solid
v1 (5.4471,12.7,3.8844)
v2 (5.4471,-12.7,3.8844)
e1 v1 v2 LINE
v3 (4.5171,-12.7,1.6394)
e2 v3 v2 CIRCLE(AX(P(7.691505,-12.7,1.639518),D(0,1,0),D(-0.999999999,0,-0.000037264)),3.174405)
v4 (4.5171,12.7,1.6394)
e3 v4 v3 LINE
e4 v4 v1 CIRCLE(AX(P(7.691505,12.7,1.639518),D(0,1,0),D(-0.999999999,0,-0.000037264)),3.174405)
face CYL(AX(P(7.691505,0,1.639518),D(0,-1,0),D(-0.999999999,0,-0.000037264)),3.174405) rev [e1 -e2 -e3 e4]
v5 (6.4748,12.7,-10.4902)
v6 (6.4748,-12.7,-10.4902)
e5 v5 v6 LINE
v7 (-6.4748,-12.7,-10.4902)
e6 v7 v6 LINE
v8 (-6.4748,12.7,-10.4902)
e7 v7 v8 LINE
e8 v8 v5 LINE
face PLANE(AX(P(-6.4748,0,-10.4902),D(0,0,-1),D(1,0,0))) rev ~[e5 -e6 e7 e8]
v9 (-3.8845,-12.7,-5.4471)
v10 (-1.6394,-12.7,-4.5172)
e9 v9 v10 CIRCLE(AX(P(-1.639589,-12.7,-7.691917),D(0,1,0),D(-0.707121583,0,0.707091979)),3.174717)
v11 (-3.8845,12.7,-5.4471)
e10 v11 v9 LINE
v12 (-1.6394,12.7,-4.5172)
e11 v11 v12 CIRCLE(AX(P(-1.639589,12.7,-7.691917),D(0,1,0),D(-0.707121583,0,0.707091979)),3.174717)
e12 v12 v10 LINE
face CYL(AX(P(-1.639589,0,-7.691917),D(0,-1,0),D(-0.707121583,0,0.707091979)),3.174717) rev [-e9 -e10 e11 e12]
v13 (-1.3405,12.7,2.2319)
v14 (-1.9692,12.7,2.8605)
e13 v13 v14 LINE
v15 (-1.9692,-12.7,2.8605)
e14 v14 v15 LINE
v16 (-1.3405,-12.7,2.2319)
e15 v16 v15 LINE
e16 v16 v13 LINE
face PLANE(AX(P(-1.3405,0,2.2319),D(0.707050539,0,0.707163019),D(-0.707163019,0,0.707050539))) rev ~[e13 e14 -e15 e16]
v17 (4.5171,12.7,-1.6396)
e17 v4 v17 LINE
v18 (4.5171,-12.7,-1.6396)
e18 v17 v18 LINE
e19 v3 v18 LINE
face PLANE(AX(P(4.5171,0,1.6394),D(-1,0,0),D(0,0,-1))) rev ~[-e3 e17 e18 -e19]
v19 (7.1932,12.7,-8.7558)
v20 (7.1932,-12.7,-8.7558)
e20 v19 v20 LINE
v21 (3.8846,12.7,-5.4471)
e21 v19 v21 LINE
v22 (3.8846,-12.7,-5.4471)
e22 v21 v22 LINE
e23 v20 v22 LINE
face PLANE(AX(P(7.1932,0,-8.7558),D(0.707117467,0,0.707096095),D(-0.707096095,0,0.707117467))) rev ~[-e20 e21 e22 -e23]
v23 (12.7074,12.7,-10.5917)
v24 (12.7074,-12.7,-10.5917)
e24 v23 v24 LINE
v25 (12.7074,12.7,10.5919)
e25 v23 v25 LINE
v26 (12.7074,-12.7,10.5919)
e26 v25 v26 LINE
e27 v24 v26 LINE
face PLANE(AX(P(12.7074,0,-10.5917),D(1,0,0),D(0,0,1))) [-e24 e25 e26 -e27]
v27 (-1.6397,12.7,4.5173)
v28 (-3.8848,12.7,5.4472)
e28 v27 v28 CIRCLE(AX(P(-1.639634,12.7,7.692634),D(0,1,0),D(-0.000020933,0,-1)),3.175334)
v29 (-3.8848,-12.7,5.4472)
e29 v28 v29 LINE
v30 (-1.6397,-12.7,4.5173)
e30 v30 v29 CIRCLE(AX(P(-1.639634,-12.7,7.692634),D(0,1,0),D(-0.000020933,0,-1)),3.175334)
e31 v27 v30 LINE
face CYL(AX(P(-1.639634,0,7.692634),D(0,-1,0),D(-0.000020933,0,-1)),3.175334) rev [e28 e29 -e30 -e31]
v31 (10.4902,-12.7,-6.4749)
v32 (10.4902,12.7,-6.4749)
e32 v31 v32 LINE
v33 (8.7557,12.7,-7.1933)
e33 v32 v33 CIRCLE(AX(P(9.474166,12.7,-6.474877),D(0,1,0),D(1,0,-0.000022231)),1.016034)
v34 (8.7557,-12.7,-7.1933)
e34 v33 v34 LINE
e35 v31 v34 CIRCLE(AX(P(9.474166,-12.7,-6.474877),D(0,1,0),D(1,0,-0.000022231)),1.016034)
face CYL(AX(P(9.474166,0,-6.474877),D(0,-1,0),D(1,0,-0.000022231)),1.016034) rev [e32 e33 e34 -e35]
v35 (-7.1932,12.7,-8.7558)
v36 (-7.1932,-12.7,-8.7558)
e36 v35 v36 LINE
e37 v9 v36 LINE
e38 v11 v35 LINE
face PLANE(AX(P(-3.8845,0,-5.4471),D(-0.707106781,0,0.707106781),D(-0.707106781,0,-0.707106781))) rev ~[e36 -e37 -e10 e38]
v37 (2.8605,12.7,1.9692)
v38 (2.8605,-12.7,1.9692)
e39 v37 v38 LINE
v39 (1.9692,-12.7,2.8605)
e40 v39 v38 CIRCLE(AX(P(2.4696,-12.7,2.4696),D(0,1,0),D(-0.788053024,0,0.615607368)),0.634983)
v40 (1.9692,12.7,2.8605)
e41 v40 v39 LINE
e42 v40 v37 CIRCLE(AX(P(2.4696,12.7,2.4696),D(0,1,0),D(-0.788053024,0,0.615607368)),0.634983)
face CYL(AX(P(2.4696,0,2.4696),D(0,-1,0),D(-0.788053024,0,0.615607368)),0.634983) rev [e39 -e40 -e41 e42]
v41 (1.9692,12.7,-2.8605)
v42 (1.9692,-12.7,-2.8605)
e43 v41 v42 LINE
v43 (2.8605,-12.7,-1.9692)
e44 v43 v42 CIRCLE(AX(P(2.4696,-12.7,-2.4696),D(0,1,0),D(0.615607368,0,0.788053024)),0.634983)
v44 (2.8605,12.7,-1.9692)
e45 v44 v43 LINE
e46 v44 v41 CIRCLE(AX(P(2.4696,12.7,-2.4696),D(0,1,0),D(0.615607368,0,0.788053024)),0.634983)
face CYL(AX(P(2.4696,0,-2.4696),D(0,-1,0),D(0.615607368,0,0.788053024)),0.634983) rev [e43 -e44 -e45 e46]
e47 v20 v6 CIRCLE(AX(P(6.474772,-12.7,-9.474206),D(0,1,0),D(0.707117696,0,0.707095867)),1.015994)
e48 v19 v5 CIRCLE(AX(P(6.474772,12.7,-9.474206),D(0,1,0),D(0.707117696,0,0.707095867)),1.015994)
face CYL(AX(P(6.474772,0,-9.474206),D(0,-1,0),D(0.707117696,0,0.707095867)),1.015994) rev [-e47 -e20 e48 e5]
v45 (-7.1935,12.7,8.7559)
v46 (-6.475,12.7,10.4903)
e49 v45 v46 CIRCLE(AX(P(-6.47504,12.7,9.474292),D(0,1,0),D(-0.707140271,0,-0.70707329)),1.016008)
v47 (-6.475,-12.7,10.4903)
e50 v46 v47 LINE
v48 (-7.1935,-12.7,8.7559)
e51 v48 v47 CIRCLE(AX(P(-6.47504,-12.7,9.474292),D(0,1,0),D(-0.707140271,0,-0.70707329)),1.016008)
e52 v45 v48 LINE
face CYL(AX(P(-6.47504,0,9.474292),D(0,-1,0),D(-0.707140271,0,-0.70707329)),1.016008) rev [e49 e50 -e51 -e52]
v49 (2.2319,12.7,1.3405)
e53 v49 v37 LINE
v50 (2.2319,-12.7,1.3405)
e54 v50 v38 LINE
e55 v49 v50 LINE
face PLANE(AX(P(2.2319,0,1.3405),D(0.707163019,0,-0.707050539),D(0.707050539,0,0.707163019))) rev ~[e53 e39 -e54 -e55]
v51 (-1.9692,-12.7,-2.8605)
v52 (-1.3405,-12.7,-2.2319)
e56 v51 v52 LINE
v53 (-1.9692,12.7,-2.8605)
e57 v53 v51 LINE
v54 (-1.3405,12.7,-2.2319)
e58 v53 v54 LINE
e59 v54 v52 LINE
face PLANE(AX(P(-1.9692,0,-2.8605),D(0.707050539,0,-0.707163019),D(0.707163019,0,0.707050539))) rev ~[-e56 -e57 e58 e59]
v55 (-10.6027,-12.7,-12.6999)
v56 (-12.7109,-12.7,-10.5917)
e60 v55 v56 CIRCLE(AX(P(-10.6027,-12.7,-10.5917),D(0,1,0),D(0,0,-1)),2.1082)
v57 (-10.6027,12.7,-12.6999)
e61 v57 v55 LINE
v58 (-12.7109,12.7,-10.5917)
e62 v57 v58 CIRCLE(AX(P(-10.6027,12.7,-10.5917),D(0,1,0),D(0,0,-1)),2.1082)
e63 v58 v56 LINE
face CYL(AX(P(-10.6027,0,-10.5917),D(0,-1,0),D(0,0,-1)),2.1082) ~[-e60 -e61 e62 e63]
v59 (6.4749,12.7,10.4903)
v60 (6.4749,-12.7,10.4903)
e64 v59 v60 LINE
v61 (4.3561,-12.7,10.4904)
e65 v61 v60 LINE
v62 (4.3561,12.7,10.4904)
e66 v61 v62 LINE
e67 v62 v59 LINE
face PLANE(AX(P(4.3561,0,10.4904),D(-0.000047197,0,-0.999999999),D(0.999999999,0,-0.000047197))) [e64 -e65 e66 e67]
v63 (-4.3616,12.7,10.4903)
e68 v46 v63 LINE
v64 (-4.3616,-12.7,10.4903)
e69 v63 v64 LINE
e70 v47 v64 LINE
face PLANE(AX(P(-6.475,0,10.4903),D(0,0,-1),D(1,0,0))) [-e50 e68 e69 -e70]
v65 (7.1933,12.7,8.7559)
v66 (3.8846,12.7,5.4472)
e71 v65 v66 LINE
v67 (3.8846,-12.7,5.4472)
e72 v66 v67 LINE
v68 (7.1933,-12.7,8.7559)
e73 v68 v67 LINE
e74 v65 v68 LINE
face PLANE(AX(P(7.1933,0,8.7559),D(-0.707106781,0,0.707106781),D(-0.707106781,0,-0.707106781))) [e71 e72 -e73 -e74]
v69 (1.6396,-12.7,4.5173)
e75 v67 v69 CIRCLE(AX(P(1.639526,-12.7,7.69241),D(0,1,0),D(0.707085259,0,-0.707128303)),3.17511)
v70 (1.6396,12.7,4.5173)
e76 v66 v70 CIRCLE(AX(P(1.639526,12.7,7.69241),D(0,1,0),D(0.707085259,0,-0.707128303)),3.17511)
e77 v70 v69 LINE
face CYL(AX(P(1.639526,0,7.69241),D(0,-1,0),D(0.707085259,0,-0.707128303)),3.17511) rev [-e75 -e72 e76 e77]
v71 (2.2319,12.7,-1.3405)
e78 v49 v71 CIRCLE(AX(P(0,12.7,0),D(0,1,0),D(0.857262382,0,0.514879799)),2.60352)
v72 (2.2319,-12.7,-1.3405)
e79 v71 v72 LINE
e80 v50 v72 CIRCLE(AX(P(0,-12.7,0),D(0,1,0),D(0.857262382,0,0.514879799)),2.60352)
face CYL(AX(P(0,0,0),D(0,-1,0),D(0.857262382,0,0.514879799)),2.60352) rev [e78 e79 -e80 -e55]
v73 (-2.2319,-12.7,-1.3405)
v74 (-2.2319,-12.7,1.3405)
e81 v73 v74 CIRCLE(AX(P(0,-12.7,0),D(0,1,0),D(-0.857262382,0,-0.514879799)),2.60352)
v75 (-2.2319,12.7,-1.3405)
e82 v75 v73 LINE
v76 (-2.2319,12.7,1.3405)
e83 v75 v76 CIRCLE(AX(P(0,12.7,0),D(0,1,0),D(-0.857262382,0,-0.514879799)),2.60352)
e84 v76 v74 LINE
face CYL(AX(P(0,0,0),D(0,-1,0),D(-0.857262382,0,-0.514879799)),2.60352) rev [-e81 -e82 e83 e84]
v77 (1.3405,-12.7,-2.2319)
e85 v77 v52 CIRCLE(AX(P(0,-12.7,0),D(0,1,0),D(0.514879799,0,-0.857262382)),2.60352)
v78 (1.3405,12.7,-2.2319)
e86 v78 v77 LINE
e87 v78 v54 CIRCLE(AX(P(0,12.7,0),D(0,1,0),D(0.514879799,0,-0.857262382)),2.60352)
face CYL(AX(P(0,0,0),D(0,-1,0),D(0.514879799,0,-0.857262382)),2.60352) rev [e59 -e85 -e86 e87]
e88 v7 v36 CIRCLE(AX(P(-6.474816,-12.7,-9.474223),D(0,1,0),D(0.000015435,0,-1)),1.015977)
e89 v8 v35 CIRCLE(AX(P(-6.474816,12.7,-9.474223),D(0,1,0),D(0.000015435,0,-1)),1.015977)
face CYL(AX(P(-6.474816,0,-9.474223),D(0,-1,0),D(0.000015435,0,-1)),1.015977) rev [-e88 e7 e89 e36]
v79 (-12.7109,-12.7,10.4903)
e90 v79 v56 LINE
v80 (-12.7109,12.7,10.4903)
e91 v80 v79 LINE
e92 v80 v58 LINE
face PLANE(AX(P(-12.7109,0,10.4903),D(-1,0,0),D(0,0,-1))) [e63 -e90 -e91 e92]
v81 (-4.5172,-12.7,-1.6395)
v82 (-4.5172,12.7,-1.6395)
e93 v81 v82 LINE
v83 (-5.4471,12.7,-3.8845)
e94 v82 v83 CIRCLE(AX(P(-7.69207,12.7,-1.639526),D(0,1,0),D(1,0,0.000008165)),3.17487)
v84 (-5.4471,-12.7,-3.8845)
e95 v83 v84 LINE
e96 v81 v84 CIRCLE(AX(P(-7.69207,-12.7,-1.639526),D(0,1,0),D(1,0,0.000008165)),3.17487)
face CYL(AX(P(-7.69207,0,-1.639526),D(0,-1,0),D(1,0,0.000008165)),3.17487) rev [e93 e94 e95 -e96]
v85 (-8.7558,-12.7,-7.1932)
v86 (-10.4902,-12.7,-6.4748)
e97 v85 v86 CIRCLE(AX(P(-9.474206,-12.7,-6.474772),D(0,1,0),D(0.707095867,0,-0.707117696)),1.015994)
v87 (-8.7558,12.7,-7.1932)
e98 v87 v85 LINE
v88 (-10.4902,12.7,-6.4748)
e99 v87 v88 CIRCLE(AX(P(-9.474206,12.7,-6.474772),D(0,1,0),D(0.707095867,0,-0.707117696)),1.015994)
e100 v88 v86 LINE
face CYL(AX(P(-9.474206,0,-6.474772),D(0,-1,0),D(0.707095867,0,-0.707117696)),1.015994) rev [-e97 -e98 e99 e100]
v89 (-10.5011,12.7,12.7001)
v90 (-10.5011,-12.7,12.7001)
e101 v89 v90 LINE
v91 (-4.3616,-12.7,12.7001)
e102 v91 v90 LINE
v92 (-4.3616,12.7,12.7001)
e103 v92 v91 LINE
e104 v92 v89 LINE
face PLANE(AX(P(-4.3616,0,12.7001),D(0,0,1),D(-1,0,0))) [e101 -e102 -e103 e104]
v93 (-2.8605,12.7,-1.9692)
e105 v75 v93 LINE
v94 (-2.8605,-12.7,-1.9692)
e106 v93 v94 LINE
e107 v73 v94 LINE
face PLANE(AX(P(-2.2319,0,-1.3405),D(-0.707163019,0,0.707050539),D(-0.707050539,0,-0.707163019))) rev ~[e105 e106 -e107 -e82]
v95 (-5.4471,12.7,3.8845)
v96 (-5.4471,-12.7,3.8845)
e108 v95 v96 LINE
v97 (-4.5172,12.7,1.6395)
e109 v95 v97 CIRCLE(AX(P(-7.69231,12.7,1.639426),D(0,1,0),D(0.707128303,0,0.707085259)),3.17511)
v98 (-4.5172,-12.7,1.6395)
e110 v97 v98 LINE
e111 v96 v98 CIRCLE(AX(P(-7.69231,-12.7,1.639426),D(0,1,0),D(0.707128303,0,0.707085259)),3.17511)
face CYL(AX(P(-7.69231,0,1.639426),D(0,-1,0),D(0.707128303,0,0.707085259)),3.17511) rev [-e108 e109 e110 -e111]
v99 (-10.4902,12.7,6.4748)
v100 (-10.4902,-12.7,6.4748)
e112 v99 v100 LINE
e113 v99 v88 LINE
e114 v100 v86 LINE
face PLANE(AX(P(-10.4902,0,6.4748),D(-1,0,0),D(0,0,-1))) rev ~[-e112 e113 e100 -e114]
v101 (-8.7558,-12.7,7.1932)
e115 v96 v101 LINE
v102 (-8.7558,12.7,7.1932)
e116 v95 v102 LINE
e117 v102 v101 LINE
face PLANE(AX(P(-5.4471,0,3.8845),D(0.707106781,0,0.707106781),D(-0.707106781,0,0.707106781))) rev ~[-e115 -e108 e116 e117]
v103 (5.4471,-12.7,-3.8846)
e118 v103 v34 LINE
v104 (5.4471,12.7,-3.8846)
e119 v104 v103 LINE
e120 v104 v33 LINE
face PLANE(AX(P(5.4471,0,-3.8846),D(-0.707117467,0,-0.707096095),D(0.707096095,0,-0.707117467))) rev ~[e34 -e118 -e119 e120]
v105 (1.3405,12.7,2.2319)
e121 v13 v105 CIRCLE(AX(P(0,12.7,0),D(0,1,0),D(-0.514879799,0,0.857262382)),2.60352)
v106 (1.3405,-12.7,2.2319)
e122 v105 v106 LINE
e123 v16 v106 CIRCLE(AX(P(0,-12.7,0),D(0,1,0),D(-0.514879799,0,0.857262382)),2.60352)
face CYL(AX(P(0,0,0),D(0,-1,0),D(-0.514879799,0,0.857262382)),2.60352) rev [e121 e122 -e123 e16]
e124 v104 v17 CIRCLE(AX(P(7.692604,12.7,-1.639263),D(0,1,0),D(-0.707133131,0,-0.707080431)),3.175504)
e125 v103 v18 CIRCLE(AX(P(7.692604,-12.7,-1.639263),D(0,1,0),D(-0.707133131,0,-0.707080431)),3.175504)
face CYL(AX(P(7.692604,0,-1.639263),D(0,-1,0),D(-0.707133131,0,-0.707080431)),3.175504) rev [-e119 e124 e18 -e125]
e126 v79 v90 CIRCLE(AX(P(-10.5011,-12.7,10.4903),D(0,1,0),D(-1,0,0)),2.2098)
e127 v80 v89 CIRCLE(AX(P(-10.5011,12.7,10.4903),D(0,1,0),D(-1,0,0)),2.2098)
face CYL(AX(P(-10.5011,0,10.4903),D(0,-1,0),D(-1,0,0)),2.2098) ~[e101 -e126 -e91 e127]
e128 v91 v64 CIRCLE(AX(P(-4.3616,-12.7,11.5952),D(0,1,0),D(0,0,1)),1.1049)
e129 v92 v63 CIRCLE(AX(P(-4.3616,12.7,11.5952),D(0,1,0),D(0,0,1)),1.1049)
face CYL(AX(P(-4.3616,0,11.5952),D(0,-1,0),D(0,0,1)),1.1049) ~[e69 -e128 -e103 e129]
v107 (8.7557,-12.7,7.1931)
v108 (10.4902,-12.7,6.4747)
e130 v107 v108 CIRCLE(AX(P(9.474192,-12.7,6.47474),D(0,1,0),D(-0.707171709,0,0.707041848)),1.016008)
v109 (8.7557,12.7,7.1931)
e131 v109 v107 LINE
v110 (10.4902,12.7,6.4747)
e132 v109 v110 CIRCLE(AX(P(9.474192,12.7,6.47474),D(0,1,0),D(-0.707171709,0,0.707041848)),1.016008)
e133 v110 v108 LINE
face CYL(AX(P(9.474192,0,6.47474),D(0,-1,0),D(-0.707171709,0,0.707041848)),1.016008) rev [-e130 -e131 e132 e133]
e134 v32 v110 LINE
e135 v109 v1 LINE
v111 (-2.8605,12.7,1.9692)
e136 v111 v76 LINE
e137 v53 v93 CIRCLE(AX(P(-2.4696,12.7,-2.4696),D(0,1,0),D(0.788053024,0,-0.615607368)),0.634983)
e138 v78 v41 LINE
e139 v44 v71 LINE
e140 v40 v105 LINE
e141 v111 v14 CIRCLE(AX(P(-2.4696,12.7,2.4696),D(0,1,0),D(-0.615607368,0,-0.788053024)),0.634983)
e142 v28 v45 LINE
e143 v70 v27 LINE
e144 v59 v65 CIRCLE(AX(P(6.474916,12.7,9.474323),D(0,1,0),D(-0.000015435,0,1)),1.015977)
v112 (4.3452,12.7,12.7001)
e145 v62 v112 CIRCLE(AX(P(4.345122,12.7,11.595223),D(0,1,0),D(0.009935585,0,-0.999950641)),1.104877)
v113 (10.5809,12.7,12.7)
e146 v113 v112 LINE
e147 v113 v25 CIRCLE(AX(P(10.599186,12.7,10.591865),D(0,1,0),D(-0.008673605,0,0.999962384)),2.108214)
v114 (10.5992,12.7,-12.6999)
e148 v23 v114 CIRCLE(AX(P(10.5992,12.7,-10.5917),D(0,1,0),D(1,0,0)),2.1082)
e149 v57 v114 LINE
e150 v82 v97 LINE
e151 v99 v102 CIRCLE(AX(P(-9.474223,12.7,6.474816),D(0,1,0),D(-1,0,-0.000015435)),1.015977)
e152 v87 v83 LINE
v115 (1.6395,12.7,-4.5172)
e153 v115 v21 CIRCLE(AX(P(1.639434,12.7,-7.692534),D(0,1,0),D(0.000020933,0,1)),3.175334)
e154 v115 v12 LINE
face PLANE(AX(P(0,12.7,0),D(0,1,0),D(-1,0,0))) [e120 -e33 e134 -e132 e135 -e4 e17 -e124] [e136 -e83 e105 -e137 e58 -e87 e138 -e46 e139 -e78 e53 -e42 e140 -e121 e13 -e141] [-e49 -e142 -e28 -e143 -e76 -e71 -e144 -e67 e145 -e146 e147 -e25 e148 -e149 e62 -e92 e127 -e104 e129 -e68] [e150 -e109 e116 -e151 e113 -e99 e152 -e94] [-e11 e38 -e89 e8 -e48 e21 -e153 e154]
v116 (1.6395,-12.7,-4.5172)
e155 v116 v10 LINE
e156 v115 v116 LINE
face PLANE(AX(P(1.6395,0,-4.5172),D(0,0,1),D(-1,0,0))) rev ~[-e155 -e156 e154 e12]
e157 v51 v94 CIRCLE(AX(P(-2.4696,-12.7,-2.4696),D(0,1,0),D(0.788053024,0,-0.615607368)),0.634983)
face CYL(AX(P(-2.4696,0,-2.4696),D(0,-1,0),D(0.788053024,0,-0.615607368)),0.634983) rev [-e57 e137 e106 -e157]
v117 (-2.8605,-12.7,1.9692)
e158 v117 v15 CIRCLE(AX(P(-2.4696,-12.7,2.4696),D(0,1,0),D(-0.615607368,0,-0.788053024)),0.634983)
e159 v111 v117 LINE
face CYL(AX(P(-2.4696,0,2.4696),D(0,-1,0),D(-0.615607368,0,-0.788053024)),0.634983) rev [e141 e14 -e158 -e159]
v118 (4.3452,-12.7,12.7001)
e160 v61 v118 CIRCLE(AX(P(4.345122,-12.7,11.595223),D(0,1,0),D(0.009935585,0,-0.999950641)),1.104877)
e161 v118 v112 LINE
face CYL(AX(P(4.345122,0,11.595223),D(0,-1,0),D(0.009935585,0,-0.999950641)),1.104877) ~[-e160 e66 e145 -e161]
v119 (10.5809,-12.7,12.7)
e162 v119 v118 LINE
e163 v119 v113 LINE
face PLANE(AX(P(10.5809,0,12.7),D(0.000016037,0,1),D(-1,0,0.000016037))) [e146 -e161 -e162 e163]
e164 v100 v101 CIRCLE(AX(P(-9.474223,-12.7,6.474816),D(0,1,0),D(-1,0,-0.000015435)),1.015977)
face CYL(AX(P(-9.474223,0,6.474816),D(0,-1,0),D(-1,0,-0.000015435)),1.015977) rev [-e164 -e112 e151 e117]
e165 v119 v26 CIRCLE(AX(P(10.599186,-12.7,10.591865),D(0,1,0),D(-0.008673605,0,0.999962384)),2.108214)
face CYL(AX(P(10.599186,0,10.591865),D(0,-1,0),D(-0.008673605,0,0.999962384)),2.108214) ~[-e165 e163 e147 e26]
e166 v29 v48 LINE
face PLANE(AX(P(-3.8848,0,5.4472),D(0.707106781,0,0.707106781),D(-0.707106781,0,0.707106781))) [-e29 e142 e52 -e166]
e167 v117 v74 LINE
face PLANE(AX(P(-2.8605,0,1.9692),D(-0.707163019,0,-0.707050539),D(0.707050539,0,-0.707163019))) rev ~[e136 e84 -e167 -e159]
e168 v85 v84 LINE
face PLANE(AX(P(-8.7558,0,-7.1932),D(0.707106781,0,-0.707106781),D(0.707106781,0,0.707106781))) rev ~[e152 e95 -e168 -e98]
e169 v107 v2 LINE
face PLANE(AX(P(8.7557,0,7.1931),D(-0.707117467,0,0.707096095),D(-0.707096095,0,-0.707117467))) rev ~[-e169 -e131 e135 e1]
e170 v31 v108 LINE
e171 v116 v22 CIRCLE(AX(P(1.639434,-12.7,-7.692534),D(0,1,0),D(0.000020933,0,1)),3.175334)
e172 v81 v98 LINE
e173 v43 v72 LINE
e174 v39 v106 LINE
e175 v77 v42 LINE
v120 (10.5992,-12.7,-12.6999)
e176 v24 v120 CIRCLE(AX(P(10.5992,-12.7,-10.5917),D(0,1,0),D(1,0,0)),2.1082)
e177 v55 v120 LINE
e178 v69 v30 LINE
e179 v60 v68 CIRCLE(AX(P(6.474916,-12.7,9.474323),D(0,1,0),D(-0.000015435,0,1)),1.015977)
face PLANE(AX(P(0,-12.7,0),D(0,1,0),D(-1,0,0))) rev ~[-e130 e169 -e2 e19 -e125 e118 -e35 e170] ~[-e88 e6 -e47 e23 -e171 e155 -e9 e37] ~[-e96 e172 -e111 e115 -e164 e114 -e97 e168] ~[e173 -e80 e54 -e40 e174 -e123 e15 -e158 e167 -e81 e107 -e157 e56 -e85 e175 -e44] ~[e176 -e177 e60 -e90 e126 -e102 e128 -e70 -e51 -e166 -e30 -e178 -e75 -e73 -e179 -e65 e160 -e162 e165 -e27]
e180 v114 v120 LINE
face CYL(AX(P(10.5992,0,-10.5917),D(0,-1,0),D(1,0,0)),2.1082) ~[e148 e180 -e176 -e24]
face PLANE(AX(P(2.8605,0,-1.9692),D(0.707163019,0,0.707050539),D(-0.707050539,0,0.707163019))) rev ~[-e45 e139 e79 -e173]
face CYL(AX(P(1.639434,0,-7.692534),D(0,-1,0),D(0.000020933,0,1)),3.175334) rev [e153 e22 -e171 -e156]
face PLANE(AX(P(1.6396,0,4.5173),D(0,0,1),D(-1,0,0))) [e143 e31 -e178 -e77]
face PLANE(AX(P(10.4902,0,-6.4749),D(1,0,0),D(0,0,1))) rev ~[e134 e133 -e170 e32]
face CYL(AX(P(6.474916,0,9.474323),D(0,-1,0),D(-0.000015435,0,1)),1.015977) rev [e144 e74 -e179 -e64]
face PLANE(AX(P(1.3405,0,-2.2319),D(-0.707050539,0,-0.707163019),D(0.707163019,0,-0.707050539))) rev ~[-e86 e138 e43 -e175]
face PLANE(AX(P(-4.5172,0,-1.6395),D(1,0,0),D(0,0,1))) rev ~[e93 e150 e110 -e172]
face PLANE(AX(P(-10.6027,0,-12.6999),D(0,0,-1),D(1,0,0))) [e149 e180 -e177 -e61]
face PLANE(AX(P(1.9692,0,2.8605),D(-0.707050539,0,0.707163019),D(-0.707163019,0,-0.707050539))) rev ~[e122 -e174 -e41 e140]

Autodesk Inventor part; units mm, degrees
ref_plane "YZ Plane" through (0, 0, 0) normal (1, 0, 0) x (0, 1, 0)
ref_plane "XZ Plane" through (0, 0, 0) normal (0, 1, 0) x (-1, 0, 0)
ref_plane "XY Plane" through (0, 0, 0) normal (0, 0, 1) x (1, 0, 0)
sketch "Sketch1" plane through (0, 0, 0) normal (0, 1, 0) x (-1, 0, 0)
  arc A0 (4.5172, -1.6395) -> (5.4471, -3.8845) centre (7.6922, -1.6395) ccw
  line L0 (8.7558, -7.1932) -> (5.4471, -3.8845)
  arc A1 (8.7558, -7.1932) -> (10.4902, -6.4748) centre (9.4742, -6.4748) ccw
  line L1 (10.4902, 6.4748) -> (10.4902, -6.4748)
  arc A2 (10.4902, 6.4748) -> (8.7558, 7.1932) centre (9.4742, 6.4748) ccw
  line L2 (5.4471, 3.8845) -> (8.7558, 7.1932)
  arc A3 (5.4471, 3.8845) -> (4.5172, 1.6395) centre (7.6922, 1.6395) ccw
  line L3 (4.5172, -1.6395) -> (4.5172, 1.6395)
  arc A4 (6.4748, -10.4902) -> (7.1932, -8.7558) centre (6.4748, -9.4742) ccw
  line L4 (3.8845, -5.4471) -> (7.1932, -8.7558)
  arc A5 (3.8845, -5.4471) -> (1.6394, -4.5172) centre (1.6394, -7.6922) ccw
  line L5 (-1.6395, -4.5172) -> (1.6394, -4.5172)
  arc A6 (-1.6395, -4.5172) -> (-3.8846, -5.4471) centre (-1.6395, -7.6922) ccw
  line L6 (-7.1932, -8.7558) -> (-3.8846, -5.4471)
  arc A7 (-7.1932, -8.7558) -> (-6.4748, -10.4902) centre (-6.4748, -9.4742) ccw
  line L7 (6.4748, -10.4902) -> (-6.4748, -10.4902)
  arc A8 (-10.4902, -6.4749) -> (-8.7557, -7.1933) centre (-9.4742, -6.4749) ccw
  line L8 (-5.4471, -3.8846) -> (-8.7557, -7.1933)
  arc A9 (-5.4471, -3.8846) -> (-4.5171, -1.6396) centre (-7.6921, -1.6396) ccw
  line L9 (-4.5171, 1.6394) -> (-4.5171, -1.6396)
  arc A10 (-4.5171, 1.6394) -> (-5.4471, 3.8844) centre (-7.6921, 1.6394) ccw
  line L10 (-8.7557, 7.1931) -> (-5.4471, 3.8844)
  arc A11 (-8.7557, 7.1931) -> (-10.4902, 6.4747) centre (-9.4742, 6.4747) ccw
  line L11 (-10.4902, -6.4749) -> (-10.4902, 6.4747)
  arc A12 (1.3405, 2.2319) -> (-1.3405, 2.2319) centre (0, 0) ccw
  line L12 (-1.9692, 2.8605) -> (-1.3405, 2.2319)
  arc A13 (-1.9692, 2.8605) -> (-2.8605, 1.9692) centre (-2.4696, 2.4696) ccw
  line L13 (-2.2319, 1.3405) -> (-2.8605, 1.9692)
  arc A14 (-2.2319, 1.3405) -> (-2.2319, -1.3405) centre (0, 0) ccw
  line L14 (-2.8605, -1.9692) -> (-2.2319, -1.3405)
  arc A15 (-2.8605, -1.9692) -> (-1.9692, -2.8605) centre (-2.4696, -2.4696) ccw
  line L15 (-1.3405, -2.2319) -> (-1.9692, -2.8605)
  arc A16 (-1.3405, -2.2319) -> (1.3405, -2.2319) centre (0, 0) ccw
  line L16 (1.9692, -2.8605) -> (1.3405, -2.2319)
  arc A17 (1.9692, -2.8605) -> (2.8605, -1.9692) centre (2.4696, -2.4696) ccw
  line L17 (2.2319, -1.3405) -> (2.8605, -1.9692)
  arc A18 (2.2319, -1.3405) -> (2.2319, 1.3405) centre (0, 0) ccw
  line L18 (2.8605, 1.9692) -> (2.2319, 1.3405)
  arc A19 (2.8605, 1.9692) -> (1.9692, 2.8605) centre (2.4696, 2.4696) ccw
  line L19 (1.3405, 2.2319) -> (1.9692, 2.8605)
  arc A20 (-4.3561, 10.4904) -> (-4.3452, 12.7001) centre (-4.3451, 11.5952) ccw
  line L20 (-4.3561, 10.4904) -> (-6.4749, 10.4903)
  arc A21 (-6.4749, 10.4903) -> (-7.1933, 8.7559) centre (-6.4749, 9.4743) ccw
  line L21 (-7.1933, 8.7559) -> (-3.8846, 5.4472)
  arc A22 (-3.8846, 5.4472) -> (-1.6396, 4.5173) centre (-1.6396, 7.6923) ccw
  line L22 (-1.6396, 4.5173) -> (1.6397, 4.5173)
  arc A23 (1.6397, 4.5173) -> (3.8848, 5.4472) centre (1.6397, 7.6923) ccw
  line L23 (3.8848, 5.4472) -> (7.1935, 8.7559)
  arc A24 (7.1935, 8.7559) -> (6.475, 10.4903) centre (6.475, 9.4743) ccw
  line L24 (6.475, 10.4903) -> (4.3616, 10.4903)
  arc A25 (4.3616, 12.7001) -> (4.3616, 10.4903) centre (4.3616, 11.5952) ccw
  line L25 (4.3616, 12.7001) -> (10.5011, 12.7001)
  arc A26 (12.7109, 10.4903) -> (10.5011, 12.7001) centre (10.5011, 10.4903) ccw
  line L26 (12.7109, 10.4903) -> (12.7109, -10.5917)
  arc A27 (10.6027, -12.6999) -> (12.7109, -10.5917) centre (10.6027, -10.5917) ccw
  line L27 (10.6027, -12.6999) -> (-10.5992, -12.6999)
  arc A28 (-12.7074, -10.5917) -> (-10.5992, -12.6999) centre (-10.5992, -10.5917) ccw
  line L28 (-12.7074, -10.5917) -> (-12.7074, 10.5919)
  arc A29 (-10.5809, 12.7) -> (-12.7074, 10.5919) centre (-10.5992, 10.5919) ccw
  line L29 (-10.5809, 12.7) -> (-4.3452, 12.7001)
  point P0 (0, 0)
  dimension "d100" = 8.1828
  dimension "d103" = 25.4
extrude "Extrusion1" add sketch "Sketch1" along normal mid plane 25.4
properties part number "1001-S-BLACK-FB" material "6105-T5"
